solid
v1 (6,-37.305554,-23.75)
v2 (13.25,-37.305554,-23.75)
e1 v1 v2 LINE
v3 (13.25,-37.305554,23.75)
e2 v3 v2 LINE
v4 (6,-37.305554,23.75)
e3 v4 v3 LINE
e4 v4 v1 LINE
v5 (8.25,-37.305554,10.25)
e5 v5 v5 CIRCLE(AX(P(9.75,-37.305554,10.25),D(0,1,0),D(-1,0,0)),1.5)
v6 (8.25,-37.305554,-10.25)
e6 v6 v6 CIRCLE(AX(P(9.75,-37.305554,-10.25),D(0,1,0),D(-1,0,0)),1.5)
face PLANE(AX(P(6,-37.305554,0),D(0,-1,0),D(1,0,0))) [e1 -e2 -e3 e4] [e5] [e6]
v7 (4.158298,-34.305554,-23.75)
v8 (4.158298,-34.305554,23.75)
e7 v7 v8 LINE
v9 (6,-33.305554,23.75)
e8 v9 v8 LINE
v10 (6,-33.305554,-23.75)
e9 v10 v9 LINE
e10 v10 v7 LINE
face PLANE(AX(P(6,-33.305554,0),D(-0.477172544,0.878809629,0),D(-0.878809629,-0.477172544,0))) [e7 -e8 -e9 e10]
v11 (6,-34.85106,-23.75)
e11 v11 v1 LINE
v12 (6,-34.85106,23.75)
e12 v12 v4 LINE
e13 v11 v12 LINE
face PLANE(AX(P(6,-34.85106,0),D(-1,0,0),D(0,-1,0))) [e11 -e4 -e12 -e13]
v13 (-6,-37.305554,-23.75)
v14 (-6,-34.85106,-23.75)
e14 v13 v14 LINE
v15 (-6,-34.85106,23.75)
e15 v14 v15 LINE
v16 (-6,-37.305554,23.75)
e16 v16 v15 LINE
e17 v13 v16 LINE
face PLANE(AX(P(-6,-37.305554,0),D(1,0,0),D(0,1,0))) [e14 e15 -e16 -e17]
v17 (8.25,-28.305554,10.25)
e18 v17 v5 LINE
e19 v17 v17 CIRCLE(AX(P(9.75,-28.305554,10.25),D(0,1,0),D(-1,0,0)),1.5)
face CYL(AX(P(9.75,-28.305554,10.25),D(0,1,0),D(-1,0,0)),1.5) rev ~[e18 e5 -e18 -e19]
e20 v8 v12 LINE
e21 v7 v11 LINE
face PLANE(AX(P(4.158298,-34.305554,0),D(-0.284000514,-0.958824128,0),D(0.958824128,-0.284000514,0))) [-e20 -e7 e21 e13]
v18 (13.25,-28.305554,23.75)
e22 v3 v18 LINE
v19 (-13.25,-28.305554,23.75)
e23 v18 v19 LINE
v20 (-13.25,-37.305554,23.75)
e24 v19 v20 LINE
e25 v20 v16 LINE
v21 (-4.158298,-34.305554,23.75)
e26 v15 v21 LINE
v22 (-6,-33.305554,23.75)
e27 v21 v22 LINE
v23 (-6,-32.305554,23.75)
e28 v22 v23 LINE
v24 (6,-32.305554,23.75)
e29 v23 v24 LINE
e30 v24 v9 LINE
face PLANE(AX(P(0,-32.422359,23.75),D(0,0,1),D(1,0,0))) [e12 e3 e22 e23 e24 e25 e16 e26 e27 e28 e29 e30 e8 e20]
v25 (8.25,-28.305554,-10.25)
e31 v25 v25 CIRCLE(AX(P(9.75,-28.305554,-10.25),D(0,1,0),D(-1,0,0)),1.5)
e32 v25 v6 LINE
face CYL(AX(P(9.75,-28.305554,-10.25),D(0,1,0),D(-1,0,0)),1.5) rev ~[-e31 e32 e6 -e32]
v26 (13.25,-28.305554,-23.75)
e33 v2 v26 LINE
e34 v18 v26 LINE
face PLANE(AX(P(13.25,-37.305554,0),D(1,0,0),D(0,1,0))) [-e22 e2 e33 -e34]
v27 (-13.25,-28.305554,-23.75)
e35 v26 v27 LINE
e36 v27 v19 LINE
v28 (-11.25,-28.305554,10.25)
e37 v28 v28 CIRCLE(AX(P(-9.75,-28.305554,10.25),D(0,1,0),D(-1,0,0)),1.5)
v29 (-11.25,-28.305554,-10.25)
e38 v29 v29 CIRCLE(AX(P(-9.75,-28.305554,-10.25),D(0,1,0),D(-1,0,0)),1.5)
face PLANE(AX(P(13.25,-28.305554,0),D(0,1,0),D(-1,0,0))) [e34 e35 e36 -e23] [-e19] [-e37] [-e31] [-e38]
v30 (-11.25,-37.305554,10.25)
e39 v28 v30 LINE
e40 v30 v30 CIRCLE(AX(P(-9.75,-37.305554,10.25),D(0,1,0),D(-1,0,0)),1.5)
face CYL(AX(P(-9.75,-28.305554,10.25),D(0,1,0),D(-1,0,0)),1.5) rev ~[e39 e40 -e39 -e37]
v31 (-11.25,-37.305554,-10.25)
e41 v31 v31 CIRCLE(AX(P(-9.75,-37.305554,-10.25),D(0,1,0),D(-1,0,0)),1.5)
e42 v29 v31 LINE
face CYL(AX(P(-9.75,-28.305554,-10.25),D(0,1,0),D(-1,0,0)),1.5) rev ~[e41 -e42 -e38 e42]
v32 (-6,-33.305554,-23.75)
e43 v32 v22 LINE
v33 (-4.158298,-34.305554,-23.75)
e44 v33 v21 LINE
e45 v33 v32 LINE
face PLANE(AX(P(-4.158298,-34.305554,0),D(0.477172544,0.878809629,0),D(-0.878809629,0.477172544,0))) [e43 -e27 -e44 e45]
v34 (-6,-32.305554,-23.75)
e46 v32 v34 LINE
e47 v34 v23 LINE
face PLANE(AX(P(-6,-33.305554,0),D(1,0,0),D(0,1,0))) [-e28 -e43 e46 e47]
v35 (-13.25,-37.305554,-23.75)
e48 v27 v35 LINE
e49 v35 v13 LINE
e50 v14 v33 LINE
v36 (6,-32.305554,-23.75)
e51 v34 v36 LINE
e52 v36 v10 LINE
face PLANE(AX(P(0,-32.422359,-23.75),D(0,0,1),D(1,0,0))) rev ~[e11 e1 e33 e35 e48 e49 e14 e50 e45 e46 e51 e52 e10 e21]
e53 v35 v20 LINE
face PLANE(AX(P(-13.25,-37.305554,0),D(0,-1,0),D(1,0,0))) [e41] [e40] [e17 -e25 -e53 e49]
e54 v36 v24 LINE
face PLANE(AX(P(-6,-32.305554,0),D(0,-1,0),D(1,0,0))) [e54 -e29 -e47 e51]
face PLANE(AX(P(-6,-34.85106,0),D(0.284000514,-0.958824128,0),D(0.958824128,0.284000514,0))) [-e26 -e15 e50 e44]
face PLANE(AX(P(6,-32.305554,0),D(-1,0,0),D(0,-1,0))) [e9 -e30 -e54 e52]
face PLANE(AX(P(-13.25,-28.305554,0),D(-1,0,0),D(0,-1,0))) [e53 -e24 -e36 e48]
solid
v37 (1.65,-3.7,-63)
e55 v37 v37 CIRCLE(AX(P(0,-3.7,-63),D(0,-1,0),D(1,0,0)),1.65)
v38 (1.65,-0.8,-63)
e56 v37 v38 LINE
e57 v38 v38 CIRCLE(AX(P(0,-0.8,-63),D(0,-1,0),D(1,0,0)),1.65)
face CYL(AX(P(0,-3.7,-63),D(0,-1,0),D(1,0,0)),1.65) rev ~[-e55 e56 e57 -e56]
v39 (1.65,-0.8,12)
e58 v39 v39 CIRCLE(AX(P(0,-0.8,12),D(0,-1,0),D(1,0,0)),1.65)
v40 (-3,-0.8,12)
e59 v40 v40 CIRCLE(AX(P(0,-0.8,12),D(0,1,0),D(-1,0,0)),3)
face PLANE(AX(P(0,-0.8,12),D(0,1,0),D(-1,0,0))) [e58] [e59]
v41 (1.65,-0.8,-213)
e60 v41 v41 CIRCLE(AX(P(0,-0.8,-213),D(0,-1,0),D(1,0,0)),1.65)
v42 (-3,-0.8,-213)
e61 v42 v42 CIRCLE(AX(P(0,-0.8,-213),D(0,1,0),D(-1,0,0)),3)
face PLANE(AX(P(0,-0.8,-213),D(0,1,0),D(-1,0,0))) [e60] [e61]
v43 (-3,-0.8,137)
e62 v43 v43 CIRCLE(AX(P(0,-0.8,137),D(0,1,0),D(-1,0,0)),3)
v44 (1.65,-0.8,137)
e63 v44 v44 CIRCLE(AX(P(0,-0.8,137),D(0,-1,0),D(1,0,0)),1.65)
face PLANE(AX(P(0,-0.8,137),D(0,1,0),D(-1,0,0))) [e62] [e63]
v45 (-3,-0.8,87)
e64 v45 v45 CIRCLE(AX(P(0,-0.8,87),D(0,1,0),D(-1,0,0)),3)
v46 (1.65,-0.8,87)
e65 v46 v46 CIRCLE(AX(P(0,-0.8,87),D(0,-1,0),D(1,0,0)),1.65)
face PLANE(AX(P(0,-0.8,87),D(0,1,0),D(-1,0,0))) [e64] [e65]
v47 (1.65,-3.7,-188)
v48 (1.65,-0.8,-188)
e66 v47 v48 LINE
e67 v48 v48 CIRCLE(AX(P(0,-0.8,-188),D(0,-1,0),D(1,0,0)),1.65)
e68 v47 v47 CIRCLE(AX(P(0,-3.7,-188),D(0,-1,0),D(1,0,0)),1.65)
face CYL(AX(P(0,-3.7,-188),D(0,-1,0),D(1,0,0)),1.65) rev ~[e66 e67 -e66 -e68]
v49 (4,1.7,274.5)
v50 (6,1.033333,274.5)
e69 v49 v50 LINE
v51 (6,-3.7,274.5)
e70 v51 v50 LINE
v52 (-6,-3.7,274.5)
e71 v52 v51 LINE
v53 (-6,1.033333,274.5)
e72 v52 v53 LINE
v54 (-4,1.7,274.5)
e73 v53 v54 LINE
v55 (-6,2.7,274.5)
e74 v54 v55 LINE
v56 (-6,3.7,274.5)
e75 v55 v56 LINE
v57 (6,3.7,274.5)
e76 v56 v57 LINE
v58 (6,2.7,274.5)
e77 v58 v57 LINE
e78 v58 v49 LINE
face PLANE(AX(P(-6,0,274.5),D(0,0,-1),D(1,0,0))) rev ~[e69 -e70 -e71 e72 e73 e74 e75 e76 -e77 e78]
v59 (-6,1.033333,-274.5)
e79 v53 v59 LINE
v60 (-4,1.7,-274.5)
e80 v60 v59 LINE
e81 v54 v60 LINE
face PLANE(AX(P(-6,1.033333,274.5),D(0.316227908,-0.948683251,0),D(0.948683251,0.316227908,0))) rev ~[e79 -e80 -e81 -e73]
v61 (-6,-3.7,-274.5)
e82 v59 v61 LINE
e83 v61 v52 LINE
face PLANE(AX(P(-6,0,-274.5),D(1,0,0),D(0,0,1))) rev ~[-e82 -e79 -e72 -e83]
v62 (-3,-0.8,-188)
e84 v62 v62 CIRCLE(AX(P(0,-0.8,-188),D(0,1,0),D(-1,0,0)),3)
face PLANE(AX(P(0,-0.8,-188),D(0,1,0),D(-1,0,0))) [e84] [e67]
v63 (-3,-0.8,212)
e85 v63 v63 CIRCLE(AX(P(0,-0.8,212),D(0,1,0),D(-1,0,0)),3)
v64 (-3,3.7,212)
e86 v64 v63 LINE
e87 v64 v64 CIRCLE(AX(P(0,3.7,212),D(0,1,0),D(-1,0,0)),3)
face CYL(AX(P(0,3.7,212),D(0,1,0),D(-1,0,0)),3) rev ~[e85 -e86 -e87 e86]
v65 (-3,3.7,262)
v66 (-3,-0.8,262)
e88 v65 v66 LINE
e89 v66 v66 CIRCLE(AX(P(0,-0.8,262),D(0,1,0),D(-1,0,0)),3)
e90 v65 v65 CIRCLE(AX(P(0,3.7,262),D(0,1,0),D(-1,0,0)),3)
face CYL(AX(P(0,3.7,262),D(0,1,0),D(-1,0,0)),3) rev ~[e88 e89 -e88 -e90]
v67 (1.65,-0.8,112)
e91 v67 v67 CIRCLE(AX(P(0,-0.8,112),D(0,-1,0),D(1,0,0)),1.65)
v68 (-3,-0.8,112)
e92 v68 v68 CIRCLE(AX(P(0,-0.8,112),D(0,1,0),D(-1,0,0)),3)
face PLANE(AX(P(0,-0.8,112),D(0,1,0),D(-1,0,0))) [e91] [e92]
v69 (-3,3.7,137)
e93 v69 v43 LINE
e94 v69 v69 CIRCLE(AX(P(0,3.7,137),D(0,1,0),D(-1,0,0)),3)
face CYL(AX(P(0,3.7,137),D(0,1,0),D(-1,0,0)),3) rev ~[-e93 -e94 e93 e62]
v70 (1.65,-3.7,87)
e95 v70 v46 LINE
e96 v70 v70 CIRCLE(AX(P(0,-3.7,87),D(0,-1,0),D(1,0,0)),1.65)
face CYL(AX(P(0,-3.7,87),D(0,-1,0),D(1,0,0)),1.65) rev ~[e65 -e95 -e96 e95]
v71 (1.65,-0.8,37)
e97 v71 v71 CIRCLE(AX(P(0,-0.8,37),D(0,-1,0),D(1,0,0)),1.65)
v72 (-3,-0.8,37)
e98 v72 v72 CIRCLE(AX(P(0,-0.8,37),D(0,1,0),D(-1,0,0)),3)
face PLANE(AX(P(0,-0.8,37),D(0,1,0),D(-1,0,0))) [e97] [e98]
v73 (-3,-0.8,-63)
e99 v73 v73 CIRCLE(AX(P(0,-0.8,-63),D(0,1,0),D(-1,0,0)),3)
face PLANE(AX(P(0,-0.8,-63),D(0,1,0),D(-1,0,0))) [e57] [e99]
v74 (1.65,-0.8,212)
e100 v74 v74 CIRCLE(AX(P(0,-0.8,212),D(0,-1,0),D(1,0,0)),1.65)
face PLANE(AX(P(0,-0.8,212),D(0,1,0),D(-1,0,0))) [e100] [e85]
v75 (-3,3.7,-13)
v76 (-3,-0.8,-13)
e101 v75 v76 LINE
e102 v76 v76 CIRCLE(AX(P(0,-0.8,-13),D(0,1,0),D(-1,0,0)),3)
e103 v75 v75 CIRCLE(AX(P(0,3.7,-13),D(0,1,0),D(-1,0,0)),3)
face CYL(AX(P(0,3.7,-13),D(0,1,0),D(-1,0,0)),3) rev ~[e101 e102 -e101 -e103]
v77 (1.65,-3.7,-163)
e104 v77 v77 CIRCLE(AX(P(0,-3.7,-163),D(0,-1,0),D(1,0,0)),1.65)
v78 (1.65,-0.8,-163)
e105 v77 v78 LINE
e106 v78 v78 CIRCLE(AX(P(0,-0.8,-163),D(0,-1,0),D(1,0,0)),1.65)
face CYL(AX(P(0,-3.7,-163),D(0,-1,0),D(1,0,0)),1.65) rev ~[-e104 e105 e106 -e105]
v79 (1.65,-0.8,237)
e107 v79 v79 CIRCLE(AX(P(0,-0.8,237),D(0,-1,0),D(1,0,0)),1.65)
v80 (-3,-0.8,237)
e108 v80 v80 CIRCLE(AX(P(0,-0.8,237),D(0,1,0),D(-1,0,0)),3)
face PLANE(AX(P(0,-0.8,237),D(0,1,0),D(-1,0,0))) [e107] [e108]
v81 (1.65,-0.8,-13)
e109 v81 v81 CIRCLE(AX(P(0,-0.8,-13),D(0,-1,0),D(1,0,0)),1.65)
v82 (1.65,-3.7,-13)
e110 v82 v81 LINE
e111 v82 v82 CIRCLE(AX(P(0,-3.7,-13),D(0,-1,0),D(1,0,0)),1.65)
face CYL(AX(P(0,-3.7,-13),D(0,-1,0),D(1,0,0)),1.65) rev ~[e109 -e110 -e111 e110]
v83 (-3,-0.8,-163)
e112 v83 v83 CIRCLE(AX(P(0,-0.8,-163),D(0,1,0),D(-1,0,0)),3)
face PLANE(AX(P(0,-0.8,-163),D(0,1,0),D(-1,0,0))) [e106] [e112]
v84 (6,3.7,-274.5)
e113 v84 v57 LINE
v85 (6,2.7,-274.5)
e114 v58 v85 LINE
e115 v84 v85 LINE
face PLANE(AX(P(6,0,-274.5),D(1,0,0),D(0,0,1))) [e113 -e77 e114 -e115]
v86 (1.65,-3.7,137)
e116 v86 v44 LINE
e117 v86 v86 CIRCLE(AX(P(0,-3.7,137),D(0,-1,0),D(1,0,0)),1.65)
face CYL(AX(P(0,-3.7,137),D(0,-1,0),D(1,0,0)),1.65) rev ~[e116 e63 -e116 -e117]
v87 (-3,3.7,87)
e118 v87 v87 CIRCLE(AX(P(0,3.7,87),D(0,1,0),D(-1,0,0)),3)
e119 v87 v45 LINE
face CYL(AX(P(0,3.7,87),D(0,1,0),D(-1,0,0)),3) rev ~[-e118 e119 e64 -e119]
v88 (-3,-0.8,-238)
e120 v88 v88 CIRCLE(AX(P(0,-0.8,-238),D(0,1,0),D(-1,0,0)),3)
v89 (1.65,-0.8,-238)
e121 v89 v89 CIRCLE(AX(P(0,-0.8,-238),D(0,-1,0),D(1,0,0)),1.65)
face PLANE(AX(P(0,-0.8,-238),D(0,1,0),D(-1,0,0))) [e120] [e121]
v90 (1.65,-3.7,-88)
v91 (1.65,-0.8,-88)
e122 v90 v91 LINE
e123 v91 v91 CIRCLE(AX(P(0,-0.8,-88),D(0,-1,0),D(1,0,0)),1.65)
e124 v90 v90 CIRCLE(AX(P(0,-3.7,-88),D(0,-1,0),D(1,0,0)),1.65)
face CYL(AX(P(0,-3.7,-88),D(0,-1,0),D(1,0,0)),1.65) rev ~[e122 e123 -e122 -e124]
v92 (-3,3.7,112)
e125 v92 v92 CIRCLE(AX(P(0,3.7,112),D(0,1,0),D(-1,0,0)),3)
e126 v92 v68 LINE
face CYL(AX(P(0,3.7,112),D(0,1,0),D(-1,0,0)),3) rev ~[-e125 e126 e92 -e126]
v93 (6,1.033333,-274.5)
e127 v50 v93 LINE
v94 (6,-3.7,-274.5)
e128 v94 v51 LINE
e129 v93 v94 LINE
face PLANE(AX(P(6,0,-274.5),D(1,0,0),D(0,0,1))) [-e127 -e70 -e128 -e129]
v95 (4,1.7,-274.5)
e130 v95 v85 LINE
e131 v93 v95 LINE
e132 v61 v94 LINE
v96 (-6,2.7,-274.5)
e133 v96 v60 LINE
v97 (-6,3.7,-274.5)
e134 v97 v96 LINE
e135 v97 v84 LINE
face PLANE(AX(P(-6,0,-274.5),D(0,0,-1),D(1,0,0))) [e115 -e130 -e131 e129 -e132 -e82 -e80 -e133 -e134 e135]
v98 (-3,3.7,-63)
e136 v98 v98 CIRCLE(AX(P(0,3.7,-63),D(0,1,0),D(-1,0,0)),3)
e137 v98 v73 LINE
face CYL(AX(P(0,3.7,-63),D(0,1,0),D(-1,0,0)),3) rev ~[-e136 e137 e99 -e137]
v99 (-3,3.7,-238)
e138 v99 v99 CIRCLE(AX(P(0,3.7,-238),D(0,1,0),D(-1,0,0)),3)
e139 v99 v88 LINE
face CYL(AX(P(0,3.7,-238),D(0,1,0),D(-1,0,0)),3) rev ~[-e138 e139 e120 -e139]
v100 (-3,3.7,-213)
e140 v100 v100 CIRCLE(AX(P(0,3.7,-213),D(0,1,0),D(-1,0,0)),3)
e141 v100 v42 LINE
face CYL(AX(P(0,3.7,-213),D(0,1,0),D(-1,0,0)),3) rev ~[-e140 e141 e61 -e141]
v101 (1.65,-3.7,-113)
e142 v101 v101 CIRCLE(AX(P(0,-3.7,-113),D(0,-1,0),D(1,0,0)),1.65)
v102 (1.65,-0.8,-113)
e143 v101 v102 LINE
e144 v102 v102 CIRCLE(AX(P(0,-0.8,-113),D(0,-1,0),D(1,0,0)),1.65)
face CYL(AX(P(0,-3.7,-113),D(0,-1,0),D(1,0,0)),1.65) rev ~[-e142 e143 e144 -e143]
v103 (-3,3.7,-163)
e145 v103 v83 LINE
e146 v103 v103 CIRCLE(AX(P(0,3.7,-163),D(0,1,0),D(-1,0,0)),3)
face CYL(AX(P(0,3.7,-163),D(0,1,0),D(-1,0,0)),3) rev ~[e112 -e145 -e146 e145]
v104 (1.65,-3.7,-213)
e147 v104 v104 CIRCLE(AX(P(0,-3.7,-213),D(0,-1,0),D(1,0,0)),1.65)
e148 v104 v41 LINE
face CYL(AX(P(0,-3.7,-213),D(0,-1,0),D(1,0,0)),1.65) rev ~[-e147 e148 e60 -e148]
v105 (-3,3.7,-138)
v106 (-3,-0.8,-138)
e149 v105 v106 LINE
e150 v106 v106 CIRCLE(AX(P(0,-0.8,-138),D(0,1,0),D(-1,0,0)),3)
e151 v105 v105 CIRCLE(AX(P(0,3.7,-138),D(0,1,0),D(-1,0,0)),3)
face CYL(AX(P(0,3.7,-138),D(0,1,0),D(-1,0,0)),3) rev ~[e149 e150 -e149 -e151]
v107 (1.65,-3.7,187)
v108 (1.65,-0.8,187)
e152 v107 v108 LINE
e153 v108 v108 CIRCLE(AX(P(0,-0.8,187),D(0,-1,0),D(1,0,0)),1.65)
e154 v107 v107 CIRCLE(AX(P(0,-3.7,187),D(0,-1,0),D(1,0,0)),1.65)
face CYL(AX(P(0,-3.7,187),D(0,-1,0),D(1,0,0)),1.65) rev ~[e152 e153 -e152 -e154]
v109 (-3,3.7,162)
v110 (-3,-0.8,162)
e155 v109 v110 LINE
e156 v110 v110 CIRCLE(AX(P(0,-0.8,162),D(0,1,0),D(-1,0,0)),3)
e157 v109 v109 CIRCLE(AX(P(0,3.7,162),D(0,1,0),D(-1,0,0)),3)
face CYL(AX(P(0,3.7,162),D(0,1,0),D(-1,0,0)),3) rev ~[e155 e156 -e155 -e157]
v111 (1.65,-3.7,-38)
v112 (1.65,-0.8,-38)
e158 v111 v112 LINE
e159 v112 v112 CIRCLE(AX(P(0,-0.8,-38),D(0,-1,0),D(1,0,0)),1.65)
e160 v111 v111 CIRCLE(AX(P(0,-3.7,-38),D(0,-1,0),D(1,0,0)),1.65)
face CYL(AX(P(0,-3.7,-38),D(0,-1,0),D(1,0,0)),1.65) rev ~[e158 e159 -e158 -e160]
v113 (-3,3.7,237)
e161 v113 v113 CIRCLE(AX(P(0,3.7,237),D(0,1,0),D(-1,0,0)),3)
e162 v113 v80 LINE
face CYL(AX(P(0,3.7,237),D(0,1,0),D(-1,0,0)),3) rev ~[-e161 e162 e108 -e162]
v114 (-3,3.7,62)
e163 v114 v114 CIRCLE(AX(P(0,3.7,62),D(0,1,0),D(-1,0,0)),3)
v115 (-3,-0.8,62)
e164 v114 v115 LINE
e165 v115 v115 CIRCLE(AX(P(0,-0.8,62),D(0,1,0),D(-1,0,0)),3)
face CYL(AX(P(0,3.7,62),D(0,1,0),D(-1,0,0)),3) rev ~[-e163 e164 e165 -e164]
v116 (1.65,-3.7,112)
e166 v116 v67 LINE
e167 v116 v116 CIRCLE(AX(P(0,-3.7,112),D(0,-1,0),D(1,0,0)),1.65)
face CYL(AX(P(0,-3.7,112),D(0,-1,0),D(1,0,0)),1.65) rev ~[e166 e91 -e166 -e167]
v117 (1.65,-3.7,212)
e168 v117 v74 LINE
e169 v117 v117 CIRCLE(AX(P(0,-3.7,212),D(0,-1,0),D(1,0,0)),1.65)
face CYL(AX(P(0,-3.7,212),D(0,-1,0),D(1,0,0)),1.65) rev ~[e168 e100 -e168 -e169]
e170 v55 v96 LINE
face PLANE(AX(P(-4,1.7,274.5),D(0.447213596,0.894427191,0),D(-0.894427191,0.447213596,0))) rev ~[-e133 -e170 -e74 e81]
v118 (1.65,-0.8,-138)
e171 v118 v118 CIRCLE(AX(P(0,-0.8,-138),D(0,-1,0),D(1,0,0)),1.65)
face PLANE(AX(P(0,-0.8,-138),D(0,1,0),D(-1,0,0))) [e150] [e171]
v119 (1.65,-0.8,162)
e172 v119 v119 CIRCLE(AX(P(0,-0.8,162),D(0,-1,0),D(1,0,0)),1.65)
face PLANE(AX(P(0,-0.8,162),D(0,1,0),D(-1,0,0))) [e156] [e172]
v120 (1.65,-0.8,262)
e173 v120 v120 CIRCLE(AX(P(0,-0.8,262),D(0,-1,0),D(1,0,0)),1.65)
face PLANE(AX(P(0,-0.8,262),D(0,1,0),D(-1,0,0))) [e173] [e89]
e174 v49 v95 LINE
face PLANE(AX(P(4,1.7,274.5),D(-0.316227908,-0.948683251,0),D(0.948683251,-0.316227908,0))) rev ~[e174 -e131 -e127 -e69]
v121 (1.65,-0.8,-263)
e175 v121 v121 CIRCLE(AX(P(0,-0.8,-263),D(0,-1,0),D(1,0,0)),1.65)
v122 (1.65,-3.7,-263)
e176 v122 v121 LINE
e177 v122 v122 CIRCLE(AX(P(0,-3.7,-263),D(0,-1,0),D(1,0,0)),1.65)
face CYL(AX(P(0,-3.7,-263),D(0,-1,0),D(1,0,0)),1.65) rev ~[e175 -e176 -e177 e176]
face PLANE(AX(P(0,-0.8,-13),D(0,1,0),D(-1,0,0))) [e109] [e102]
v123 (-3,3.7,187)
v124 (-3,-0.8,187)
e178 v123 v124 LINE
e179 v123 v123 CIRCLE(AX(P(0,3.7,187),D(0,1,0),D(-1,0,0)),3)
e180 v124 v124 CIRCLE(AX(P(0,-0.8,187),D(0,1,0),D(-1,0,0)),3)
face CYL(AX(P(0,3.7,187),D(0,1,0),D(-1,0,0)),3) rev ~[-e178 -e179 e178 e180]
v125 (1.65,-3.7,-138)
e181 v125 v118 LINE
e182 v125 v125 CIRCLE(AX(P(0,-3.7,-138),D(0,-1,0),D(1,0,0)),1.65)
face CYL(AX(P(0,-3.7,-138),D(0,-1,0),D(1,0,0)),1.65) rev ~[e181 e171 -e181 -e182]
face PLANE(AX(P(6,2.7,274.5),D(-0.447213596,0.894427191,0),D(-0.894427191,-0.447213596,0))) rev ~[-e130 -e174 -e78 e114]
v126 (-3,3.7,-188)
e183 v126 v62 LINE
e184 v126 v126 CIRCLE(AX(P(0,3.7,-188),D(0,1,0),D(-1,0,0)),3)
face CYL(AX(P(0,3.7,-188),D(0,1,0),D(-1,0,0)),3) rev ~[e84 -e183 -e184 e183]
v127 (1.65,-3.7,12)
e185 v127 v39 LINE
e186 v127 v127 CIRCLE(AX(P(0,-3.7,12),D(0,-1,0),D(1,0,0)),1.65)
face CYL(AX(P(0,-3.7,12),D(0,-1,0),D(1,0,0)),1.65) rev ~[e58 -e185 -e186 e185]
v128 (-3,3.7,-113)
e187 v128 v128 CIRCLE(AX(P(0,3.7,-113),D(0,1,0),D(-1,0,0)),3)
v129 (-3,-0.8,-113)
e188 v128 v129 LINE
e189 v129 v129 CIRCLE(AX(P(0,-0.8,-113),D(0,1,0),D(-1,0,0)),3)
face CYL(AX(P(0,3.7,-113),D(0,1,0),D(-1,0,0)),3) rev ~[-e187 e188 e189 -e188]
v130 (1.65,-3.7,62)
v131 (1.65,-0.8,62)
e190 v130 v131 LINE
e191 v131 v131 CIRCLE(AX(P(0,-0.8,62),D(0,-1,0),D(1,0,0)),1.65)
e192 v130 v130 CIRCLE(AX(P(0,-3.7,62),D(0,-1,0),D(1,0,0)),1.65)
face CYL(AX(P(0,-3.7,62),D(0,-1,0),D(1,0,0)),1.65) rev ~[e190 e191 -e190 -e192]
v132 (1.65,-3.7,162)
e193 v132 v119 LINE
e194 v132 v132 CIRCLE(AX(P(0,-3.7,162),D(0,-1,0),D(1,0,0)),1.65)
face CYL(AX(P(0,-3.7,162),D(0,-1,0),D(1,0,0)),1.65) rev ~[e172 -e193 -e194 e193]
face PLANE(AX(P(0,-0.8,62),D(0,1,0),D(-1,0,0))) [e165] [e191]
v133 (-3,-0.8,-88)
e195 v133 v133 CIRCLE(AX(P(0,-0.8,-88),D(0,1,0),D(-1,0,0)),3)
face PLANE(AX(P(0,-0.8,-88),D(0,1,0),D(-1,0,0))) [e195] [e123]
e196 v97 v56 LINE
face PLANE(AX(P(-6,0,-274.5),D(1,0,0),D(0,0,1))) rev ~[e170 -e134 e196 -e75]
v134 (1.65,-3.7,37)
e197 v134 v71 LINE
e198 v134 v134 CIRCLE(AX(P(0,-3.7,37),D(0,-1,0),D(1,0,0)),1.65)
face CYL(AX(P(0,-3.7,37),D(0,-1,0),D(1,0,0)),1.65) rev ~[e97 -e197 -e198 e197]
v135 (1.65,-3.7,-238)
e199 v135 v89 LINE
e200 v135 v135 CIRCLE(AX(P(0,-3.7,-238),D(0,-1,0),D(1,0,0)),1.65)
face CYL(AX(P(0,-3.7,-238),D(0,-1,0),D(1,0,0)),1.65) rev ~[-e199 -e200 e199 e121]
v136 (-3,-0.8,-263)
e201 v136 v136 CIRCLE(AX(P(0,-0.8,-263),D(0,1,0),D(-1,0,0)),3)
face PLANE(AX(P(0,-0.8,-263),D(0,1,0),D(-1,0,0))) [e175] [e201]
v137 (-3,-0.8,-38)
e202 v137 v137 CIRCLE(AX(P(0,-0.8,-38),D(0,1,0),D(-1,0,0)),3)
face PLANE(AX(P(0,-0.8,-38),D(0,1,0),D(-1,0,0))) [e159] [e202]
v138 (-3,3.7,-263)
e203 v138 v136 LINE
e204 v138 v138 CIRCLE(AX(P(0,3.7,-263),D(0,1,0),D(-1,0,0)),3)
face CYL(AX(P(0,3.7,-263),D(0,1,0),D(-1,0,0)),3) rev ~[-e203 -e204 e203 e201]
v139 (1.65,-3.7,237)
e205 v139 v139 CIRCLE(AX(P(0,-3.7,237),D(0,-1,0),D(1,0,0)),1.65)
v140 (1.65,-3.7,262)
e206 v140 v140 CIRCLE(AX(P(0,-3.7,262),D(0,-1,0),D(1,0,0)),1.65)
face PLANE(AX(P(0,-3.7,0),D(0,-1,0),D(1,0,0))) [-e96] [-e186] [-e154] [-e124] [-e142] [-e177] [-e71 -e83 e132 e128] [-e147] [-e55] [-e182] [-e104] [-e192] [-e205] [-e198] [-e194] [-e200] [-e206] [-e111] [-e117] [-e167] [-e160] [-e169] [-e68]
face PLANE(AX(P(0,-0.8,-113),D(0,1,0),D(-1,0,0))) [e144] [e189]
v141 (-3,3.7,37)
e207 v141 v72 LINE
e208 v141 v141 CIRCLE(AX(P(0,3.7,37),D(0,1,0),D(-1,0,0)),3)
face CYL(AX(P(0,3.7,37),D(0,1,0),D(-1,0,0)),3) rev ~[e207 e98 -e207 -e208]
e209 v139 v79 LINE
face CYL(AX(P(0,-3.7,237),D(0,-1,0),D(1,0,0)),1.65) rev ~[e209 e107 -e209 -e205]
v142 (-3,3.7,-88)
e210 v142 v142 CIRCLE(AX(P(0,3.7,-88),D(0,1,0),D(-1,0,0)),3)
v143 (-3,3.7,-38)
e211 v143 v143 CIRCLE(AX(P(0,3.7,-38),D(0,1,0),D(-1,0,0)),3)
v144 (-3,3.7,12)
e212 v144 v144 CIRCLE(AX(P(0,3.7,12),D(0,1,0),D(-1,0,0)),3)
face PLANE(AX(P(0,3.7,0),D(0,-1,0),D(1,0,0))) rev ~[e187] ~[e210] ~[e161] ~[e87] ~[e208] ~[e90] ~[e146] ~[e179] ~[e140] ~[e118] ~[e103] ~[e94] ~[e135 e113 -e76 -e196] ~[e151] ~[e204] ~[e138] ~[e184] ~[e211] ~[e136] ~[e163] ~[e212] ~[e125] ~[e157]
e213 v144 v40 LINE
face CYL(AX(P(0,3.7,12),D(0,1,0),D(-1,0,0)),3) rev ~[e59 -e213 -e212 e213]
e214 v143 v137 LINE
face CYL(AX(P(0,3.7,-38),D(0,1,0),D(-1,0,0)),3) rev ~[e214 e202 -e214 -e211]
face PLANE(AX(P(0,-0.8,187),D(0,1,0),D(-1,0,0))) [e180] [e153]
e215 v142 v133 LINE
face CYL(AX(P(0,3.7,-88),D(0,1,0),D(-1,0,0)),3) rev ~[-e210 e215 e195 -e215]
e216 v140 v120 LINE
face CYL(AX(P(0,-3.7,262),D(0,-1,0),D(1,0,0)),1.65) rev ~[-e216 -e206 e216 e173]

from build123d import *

# Parameters (mm, degrees)
F0_W      = 12
F0_H      = 549
F1_DEPTH  = 3.7
F3_DEPTH  = 549.001
F4_R      = 3
F5_DEPTH  = 4.5
F6_R      = 1.65
F7_DEPTH  = 25
F9_DEPTH  = 23.75
F10_R     = 1.5
F11_DEPTH = 25


with BuildPart() as f1:
    # F0 (on Front) → F1 (new body, symmetric)
    with BuildSketch(Plane.XZ):
        Rectangle(F0_W, F0_H)
    extrude(amount=F1_DEPTH, both=True)

    # F2 (on face) → F3 (cut, through all)
    with BuildSketch(Plane.XY.offset(274.5)):
        Polygon((-4, 1.7), (-6, 2.7), (-6, 1.033333), align=None)
        Polygon((6, 1.033333), (6, 2.7), (4, 1.7), align=None)
    extrude(amount=-F3_DEPTH, mode=Mode.SUBTRACT)

    # F4 (on face) → F5 (cut)
    with BuildSketch(Plane(origin=(0, 3.7, 0), x_dir=(-1, 0, 0), z_dir=(0, 1, 0))):
        with Locations((0, 262)):
            Circle(F4_R)
        with Locations((0, 237)):
            Circle(F4_R)
        with Locations((0, 212)):
            Circle(F4_R)
        with Locations((0, 187)):
            Circle(F4_R)
        with Locations((0, 162)):
            Circle(F4_R)
        with Locations((0, 137)):
            Circle(F4_R)
        with Locations((0, 112)):
            Circle(F4_R)
        with Locations((0, 87)):
            Circle(F4_R)
        with Locations((0, 62)):
            Circle(F4_R)
        with Locations((0, 37)):
            Circle(F4_R)
        with Locations((0, 12)):
            Circle(F4_R)
        with Locations((0, -13)):
            Circle(F4_R)
        with Locations((0, -38)):
            Circle(F4_R)
        with Locations((0, -63)):
            Circle(F4_R)
        with Locations((0, -88)):
            Circle(F4_R)
        with Locations((0, -113)):
            Circle(F4_R)
        with Locations((0, -138)):
            Circle(F4_R)
        with Locations((0, -163)):
            Circle(F4_R)
        with Locations((0, -188)):
            Circle(F4_R)
        with Locations((0, -213)):
            Circle(F4_R)
        with Locations((0, -238)):
            Circle(F4_R)
        with Locations((0, -263)):
            Circle(F4_R)
    extrude(amount=-F5_DEPTH, mode=Mode.SUBTRACT)

    # F6 (on face) → F7 (cut)
    with BuildSketch(Plane.XZ.offset(3.7)):
        with Locations((0, 262)):
            Circle(F6_R)
        with Locations((0, 237)):
            Circle(F6_R)
        with Locations((0, 212)):
            Circle(F6_R)
        with Locations((0, 187)):
            Circle(F6_R)
        with Locations((0, 162)):
            Circle(F6_R)
        with Locations((0, 137)):
            Circle(F6_R)
        with Locations((0, 112)):
            Circle(F6_R)
        with Locations((0, 87)):
            Circle(F6_R)
        with Locations((0, 62)):
            Circle(F6_R)
        with Locations((0, 37)):
            Circle(F6_R)
        with Locations((0, 12)):
            Circle(F6_R)
        with Locations((0, -13)):
            Circle(F6_R)
        with Locations((0, -38)):
            Circle(F6_R)
        with Locations((0, -63)):
            Circle(F6_R)
        with Locations((0, -88)):
            Circle(F6_R)
        with Locations((0, -113)):
            Circle(F6_R)
        with Locations((0, -138)):
            Circle(F6_R)
        with Locations((0, -163)):
            Circle(F6_R)
        with Locations((0, -188)):
            Circle(F6_R)
        with Locations((0, -213)):
            Circle(F6_R)
        with Locations((0, -238)):
            Circle(F6_R)
        with Locations((0, -263)):
            Circle(F6_R)
    extrude(amount=-F7_DEPTH, mode=Mode.SUBTRACT)


with BuildPart() as f9:
    # F8 (on Top) → F9 (new body, symmetric)
    with BuildSketch(Plane.XY):
        Polygon((13.25, -28.305554), (-13.25, -28.305554), (-13.25, -37.305554), (-6, -37.305554), (-6, -34.85106), (-4.158298, -34.305554), (-6, -33.305554), (-6, -32.305554), (6, -32.305554), (6, -33.305554), (4.158298, -34.305554), (6, -34.85106), (6, -37.305554), (13.25, -37.305554), align=None)
    extrude(amount=F9_DEPTH, both=True)

    # F10 (on face) → F11 (cut)
    with BuildSketch(Plane(origin=(0, -28.305554, 0), x_dir=(-1, 0, 0), z_dir=(0, 1, 0))):
        with Locations((9.75, -10.25)):
            Circle(F10_R)
        with Locations((9.75, 10.25)):
            Circle(F10_R)
        with Locations((-9.75, 10.25)):
            Circle(F10_R)
        with Locations((-9.75, -10.25)):
            Circle(F10_R)
    extrude(amount=-F11_DEPTH, mode=Mode.SUBTRACT)


solid = Compound([f1.part, f9.part])
